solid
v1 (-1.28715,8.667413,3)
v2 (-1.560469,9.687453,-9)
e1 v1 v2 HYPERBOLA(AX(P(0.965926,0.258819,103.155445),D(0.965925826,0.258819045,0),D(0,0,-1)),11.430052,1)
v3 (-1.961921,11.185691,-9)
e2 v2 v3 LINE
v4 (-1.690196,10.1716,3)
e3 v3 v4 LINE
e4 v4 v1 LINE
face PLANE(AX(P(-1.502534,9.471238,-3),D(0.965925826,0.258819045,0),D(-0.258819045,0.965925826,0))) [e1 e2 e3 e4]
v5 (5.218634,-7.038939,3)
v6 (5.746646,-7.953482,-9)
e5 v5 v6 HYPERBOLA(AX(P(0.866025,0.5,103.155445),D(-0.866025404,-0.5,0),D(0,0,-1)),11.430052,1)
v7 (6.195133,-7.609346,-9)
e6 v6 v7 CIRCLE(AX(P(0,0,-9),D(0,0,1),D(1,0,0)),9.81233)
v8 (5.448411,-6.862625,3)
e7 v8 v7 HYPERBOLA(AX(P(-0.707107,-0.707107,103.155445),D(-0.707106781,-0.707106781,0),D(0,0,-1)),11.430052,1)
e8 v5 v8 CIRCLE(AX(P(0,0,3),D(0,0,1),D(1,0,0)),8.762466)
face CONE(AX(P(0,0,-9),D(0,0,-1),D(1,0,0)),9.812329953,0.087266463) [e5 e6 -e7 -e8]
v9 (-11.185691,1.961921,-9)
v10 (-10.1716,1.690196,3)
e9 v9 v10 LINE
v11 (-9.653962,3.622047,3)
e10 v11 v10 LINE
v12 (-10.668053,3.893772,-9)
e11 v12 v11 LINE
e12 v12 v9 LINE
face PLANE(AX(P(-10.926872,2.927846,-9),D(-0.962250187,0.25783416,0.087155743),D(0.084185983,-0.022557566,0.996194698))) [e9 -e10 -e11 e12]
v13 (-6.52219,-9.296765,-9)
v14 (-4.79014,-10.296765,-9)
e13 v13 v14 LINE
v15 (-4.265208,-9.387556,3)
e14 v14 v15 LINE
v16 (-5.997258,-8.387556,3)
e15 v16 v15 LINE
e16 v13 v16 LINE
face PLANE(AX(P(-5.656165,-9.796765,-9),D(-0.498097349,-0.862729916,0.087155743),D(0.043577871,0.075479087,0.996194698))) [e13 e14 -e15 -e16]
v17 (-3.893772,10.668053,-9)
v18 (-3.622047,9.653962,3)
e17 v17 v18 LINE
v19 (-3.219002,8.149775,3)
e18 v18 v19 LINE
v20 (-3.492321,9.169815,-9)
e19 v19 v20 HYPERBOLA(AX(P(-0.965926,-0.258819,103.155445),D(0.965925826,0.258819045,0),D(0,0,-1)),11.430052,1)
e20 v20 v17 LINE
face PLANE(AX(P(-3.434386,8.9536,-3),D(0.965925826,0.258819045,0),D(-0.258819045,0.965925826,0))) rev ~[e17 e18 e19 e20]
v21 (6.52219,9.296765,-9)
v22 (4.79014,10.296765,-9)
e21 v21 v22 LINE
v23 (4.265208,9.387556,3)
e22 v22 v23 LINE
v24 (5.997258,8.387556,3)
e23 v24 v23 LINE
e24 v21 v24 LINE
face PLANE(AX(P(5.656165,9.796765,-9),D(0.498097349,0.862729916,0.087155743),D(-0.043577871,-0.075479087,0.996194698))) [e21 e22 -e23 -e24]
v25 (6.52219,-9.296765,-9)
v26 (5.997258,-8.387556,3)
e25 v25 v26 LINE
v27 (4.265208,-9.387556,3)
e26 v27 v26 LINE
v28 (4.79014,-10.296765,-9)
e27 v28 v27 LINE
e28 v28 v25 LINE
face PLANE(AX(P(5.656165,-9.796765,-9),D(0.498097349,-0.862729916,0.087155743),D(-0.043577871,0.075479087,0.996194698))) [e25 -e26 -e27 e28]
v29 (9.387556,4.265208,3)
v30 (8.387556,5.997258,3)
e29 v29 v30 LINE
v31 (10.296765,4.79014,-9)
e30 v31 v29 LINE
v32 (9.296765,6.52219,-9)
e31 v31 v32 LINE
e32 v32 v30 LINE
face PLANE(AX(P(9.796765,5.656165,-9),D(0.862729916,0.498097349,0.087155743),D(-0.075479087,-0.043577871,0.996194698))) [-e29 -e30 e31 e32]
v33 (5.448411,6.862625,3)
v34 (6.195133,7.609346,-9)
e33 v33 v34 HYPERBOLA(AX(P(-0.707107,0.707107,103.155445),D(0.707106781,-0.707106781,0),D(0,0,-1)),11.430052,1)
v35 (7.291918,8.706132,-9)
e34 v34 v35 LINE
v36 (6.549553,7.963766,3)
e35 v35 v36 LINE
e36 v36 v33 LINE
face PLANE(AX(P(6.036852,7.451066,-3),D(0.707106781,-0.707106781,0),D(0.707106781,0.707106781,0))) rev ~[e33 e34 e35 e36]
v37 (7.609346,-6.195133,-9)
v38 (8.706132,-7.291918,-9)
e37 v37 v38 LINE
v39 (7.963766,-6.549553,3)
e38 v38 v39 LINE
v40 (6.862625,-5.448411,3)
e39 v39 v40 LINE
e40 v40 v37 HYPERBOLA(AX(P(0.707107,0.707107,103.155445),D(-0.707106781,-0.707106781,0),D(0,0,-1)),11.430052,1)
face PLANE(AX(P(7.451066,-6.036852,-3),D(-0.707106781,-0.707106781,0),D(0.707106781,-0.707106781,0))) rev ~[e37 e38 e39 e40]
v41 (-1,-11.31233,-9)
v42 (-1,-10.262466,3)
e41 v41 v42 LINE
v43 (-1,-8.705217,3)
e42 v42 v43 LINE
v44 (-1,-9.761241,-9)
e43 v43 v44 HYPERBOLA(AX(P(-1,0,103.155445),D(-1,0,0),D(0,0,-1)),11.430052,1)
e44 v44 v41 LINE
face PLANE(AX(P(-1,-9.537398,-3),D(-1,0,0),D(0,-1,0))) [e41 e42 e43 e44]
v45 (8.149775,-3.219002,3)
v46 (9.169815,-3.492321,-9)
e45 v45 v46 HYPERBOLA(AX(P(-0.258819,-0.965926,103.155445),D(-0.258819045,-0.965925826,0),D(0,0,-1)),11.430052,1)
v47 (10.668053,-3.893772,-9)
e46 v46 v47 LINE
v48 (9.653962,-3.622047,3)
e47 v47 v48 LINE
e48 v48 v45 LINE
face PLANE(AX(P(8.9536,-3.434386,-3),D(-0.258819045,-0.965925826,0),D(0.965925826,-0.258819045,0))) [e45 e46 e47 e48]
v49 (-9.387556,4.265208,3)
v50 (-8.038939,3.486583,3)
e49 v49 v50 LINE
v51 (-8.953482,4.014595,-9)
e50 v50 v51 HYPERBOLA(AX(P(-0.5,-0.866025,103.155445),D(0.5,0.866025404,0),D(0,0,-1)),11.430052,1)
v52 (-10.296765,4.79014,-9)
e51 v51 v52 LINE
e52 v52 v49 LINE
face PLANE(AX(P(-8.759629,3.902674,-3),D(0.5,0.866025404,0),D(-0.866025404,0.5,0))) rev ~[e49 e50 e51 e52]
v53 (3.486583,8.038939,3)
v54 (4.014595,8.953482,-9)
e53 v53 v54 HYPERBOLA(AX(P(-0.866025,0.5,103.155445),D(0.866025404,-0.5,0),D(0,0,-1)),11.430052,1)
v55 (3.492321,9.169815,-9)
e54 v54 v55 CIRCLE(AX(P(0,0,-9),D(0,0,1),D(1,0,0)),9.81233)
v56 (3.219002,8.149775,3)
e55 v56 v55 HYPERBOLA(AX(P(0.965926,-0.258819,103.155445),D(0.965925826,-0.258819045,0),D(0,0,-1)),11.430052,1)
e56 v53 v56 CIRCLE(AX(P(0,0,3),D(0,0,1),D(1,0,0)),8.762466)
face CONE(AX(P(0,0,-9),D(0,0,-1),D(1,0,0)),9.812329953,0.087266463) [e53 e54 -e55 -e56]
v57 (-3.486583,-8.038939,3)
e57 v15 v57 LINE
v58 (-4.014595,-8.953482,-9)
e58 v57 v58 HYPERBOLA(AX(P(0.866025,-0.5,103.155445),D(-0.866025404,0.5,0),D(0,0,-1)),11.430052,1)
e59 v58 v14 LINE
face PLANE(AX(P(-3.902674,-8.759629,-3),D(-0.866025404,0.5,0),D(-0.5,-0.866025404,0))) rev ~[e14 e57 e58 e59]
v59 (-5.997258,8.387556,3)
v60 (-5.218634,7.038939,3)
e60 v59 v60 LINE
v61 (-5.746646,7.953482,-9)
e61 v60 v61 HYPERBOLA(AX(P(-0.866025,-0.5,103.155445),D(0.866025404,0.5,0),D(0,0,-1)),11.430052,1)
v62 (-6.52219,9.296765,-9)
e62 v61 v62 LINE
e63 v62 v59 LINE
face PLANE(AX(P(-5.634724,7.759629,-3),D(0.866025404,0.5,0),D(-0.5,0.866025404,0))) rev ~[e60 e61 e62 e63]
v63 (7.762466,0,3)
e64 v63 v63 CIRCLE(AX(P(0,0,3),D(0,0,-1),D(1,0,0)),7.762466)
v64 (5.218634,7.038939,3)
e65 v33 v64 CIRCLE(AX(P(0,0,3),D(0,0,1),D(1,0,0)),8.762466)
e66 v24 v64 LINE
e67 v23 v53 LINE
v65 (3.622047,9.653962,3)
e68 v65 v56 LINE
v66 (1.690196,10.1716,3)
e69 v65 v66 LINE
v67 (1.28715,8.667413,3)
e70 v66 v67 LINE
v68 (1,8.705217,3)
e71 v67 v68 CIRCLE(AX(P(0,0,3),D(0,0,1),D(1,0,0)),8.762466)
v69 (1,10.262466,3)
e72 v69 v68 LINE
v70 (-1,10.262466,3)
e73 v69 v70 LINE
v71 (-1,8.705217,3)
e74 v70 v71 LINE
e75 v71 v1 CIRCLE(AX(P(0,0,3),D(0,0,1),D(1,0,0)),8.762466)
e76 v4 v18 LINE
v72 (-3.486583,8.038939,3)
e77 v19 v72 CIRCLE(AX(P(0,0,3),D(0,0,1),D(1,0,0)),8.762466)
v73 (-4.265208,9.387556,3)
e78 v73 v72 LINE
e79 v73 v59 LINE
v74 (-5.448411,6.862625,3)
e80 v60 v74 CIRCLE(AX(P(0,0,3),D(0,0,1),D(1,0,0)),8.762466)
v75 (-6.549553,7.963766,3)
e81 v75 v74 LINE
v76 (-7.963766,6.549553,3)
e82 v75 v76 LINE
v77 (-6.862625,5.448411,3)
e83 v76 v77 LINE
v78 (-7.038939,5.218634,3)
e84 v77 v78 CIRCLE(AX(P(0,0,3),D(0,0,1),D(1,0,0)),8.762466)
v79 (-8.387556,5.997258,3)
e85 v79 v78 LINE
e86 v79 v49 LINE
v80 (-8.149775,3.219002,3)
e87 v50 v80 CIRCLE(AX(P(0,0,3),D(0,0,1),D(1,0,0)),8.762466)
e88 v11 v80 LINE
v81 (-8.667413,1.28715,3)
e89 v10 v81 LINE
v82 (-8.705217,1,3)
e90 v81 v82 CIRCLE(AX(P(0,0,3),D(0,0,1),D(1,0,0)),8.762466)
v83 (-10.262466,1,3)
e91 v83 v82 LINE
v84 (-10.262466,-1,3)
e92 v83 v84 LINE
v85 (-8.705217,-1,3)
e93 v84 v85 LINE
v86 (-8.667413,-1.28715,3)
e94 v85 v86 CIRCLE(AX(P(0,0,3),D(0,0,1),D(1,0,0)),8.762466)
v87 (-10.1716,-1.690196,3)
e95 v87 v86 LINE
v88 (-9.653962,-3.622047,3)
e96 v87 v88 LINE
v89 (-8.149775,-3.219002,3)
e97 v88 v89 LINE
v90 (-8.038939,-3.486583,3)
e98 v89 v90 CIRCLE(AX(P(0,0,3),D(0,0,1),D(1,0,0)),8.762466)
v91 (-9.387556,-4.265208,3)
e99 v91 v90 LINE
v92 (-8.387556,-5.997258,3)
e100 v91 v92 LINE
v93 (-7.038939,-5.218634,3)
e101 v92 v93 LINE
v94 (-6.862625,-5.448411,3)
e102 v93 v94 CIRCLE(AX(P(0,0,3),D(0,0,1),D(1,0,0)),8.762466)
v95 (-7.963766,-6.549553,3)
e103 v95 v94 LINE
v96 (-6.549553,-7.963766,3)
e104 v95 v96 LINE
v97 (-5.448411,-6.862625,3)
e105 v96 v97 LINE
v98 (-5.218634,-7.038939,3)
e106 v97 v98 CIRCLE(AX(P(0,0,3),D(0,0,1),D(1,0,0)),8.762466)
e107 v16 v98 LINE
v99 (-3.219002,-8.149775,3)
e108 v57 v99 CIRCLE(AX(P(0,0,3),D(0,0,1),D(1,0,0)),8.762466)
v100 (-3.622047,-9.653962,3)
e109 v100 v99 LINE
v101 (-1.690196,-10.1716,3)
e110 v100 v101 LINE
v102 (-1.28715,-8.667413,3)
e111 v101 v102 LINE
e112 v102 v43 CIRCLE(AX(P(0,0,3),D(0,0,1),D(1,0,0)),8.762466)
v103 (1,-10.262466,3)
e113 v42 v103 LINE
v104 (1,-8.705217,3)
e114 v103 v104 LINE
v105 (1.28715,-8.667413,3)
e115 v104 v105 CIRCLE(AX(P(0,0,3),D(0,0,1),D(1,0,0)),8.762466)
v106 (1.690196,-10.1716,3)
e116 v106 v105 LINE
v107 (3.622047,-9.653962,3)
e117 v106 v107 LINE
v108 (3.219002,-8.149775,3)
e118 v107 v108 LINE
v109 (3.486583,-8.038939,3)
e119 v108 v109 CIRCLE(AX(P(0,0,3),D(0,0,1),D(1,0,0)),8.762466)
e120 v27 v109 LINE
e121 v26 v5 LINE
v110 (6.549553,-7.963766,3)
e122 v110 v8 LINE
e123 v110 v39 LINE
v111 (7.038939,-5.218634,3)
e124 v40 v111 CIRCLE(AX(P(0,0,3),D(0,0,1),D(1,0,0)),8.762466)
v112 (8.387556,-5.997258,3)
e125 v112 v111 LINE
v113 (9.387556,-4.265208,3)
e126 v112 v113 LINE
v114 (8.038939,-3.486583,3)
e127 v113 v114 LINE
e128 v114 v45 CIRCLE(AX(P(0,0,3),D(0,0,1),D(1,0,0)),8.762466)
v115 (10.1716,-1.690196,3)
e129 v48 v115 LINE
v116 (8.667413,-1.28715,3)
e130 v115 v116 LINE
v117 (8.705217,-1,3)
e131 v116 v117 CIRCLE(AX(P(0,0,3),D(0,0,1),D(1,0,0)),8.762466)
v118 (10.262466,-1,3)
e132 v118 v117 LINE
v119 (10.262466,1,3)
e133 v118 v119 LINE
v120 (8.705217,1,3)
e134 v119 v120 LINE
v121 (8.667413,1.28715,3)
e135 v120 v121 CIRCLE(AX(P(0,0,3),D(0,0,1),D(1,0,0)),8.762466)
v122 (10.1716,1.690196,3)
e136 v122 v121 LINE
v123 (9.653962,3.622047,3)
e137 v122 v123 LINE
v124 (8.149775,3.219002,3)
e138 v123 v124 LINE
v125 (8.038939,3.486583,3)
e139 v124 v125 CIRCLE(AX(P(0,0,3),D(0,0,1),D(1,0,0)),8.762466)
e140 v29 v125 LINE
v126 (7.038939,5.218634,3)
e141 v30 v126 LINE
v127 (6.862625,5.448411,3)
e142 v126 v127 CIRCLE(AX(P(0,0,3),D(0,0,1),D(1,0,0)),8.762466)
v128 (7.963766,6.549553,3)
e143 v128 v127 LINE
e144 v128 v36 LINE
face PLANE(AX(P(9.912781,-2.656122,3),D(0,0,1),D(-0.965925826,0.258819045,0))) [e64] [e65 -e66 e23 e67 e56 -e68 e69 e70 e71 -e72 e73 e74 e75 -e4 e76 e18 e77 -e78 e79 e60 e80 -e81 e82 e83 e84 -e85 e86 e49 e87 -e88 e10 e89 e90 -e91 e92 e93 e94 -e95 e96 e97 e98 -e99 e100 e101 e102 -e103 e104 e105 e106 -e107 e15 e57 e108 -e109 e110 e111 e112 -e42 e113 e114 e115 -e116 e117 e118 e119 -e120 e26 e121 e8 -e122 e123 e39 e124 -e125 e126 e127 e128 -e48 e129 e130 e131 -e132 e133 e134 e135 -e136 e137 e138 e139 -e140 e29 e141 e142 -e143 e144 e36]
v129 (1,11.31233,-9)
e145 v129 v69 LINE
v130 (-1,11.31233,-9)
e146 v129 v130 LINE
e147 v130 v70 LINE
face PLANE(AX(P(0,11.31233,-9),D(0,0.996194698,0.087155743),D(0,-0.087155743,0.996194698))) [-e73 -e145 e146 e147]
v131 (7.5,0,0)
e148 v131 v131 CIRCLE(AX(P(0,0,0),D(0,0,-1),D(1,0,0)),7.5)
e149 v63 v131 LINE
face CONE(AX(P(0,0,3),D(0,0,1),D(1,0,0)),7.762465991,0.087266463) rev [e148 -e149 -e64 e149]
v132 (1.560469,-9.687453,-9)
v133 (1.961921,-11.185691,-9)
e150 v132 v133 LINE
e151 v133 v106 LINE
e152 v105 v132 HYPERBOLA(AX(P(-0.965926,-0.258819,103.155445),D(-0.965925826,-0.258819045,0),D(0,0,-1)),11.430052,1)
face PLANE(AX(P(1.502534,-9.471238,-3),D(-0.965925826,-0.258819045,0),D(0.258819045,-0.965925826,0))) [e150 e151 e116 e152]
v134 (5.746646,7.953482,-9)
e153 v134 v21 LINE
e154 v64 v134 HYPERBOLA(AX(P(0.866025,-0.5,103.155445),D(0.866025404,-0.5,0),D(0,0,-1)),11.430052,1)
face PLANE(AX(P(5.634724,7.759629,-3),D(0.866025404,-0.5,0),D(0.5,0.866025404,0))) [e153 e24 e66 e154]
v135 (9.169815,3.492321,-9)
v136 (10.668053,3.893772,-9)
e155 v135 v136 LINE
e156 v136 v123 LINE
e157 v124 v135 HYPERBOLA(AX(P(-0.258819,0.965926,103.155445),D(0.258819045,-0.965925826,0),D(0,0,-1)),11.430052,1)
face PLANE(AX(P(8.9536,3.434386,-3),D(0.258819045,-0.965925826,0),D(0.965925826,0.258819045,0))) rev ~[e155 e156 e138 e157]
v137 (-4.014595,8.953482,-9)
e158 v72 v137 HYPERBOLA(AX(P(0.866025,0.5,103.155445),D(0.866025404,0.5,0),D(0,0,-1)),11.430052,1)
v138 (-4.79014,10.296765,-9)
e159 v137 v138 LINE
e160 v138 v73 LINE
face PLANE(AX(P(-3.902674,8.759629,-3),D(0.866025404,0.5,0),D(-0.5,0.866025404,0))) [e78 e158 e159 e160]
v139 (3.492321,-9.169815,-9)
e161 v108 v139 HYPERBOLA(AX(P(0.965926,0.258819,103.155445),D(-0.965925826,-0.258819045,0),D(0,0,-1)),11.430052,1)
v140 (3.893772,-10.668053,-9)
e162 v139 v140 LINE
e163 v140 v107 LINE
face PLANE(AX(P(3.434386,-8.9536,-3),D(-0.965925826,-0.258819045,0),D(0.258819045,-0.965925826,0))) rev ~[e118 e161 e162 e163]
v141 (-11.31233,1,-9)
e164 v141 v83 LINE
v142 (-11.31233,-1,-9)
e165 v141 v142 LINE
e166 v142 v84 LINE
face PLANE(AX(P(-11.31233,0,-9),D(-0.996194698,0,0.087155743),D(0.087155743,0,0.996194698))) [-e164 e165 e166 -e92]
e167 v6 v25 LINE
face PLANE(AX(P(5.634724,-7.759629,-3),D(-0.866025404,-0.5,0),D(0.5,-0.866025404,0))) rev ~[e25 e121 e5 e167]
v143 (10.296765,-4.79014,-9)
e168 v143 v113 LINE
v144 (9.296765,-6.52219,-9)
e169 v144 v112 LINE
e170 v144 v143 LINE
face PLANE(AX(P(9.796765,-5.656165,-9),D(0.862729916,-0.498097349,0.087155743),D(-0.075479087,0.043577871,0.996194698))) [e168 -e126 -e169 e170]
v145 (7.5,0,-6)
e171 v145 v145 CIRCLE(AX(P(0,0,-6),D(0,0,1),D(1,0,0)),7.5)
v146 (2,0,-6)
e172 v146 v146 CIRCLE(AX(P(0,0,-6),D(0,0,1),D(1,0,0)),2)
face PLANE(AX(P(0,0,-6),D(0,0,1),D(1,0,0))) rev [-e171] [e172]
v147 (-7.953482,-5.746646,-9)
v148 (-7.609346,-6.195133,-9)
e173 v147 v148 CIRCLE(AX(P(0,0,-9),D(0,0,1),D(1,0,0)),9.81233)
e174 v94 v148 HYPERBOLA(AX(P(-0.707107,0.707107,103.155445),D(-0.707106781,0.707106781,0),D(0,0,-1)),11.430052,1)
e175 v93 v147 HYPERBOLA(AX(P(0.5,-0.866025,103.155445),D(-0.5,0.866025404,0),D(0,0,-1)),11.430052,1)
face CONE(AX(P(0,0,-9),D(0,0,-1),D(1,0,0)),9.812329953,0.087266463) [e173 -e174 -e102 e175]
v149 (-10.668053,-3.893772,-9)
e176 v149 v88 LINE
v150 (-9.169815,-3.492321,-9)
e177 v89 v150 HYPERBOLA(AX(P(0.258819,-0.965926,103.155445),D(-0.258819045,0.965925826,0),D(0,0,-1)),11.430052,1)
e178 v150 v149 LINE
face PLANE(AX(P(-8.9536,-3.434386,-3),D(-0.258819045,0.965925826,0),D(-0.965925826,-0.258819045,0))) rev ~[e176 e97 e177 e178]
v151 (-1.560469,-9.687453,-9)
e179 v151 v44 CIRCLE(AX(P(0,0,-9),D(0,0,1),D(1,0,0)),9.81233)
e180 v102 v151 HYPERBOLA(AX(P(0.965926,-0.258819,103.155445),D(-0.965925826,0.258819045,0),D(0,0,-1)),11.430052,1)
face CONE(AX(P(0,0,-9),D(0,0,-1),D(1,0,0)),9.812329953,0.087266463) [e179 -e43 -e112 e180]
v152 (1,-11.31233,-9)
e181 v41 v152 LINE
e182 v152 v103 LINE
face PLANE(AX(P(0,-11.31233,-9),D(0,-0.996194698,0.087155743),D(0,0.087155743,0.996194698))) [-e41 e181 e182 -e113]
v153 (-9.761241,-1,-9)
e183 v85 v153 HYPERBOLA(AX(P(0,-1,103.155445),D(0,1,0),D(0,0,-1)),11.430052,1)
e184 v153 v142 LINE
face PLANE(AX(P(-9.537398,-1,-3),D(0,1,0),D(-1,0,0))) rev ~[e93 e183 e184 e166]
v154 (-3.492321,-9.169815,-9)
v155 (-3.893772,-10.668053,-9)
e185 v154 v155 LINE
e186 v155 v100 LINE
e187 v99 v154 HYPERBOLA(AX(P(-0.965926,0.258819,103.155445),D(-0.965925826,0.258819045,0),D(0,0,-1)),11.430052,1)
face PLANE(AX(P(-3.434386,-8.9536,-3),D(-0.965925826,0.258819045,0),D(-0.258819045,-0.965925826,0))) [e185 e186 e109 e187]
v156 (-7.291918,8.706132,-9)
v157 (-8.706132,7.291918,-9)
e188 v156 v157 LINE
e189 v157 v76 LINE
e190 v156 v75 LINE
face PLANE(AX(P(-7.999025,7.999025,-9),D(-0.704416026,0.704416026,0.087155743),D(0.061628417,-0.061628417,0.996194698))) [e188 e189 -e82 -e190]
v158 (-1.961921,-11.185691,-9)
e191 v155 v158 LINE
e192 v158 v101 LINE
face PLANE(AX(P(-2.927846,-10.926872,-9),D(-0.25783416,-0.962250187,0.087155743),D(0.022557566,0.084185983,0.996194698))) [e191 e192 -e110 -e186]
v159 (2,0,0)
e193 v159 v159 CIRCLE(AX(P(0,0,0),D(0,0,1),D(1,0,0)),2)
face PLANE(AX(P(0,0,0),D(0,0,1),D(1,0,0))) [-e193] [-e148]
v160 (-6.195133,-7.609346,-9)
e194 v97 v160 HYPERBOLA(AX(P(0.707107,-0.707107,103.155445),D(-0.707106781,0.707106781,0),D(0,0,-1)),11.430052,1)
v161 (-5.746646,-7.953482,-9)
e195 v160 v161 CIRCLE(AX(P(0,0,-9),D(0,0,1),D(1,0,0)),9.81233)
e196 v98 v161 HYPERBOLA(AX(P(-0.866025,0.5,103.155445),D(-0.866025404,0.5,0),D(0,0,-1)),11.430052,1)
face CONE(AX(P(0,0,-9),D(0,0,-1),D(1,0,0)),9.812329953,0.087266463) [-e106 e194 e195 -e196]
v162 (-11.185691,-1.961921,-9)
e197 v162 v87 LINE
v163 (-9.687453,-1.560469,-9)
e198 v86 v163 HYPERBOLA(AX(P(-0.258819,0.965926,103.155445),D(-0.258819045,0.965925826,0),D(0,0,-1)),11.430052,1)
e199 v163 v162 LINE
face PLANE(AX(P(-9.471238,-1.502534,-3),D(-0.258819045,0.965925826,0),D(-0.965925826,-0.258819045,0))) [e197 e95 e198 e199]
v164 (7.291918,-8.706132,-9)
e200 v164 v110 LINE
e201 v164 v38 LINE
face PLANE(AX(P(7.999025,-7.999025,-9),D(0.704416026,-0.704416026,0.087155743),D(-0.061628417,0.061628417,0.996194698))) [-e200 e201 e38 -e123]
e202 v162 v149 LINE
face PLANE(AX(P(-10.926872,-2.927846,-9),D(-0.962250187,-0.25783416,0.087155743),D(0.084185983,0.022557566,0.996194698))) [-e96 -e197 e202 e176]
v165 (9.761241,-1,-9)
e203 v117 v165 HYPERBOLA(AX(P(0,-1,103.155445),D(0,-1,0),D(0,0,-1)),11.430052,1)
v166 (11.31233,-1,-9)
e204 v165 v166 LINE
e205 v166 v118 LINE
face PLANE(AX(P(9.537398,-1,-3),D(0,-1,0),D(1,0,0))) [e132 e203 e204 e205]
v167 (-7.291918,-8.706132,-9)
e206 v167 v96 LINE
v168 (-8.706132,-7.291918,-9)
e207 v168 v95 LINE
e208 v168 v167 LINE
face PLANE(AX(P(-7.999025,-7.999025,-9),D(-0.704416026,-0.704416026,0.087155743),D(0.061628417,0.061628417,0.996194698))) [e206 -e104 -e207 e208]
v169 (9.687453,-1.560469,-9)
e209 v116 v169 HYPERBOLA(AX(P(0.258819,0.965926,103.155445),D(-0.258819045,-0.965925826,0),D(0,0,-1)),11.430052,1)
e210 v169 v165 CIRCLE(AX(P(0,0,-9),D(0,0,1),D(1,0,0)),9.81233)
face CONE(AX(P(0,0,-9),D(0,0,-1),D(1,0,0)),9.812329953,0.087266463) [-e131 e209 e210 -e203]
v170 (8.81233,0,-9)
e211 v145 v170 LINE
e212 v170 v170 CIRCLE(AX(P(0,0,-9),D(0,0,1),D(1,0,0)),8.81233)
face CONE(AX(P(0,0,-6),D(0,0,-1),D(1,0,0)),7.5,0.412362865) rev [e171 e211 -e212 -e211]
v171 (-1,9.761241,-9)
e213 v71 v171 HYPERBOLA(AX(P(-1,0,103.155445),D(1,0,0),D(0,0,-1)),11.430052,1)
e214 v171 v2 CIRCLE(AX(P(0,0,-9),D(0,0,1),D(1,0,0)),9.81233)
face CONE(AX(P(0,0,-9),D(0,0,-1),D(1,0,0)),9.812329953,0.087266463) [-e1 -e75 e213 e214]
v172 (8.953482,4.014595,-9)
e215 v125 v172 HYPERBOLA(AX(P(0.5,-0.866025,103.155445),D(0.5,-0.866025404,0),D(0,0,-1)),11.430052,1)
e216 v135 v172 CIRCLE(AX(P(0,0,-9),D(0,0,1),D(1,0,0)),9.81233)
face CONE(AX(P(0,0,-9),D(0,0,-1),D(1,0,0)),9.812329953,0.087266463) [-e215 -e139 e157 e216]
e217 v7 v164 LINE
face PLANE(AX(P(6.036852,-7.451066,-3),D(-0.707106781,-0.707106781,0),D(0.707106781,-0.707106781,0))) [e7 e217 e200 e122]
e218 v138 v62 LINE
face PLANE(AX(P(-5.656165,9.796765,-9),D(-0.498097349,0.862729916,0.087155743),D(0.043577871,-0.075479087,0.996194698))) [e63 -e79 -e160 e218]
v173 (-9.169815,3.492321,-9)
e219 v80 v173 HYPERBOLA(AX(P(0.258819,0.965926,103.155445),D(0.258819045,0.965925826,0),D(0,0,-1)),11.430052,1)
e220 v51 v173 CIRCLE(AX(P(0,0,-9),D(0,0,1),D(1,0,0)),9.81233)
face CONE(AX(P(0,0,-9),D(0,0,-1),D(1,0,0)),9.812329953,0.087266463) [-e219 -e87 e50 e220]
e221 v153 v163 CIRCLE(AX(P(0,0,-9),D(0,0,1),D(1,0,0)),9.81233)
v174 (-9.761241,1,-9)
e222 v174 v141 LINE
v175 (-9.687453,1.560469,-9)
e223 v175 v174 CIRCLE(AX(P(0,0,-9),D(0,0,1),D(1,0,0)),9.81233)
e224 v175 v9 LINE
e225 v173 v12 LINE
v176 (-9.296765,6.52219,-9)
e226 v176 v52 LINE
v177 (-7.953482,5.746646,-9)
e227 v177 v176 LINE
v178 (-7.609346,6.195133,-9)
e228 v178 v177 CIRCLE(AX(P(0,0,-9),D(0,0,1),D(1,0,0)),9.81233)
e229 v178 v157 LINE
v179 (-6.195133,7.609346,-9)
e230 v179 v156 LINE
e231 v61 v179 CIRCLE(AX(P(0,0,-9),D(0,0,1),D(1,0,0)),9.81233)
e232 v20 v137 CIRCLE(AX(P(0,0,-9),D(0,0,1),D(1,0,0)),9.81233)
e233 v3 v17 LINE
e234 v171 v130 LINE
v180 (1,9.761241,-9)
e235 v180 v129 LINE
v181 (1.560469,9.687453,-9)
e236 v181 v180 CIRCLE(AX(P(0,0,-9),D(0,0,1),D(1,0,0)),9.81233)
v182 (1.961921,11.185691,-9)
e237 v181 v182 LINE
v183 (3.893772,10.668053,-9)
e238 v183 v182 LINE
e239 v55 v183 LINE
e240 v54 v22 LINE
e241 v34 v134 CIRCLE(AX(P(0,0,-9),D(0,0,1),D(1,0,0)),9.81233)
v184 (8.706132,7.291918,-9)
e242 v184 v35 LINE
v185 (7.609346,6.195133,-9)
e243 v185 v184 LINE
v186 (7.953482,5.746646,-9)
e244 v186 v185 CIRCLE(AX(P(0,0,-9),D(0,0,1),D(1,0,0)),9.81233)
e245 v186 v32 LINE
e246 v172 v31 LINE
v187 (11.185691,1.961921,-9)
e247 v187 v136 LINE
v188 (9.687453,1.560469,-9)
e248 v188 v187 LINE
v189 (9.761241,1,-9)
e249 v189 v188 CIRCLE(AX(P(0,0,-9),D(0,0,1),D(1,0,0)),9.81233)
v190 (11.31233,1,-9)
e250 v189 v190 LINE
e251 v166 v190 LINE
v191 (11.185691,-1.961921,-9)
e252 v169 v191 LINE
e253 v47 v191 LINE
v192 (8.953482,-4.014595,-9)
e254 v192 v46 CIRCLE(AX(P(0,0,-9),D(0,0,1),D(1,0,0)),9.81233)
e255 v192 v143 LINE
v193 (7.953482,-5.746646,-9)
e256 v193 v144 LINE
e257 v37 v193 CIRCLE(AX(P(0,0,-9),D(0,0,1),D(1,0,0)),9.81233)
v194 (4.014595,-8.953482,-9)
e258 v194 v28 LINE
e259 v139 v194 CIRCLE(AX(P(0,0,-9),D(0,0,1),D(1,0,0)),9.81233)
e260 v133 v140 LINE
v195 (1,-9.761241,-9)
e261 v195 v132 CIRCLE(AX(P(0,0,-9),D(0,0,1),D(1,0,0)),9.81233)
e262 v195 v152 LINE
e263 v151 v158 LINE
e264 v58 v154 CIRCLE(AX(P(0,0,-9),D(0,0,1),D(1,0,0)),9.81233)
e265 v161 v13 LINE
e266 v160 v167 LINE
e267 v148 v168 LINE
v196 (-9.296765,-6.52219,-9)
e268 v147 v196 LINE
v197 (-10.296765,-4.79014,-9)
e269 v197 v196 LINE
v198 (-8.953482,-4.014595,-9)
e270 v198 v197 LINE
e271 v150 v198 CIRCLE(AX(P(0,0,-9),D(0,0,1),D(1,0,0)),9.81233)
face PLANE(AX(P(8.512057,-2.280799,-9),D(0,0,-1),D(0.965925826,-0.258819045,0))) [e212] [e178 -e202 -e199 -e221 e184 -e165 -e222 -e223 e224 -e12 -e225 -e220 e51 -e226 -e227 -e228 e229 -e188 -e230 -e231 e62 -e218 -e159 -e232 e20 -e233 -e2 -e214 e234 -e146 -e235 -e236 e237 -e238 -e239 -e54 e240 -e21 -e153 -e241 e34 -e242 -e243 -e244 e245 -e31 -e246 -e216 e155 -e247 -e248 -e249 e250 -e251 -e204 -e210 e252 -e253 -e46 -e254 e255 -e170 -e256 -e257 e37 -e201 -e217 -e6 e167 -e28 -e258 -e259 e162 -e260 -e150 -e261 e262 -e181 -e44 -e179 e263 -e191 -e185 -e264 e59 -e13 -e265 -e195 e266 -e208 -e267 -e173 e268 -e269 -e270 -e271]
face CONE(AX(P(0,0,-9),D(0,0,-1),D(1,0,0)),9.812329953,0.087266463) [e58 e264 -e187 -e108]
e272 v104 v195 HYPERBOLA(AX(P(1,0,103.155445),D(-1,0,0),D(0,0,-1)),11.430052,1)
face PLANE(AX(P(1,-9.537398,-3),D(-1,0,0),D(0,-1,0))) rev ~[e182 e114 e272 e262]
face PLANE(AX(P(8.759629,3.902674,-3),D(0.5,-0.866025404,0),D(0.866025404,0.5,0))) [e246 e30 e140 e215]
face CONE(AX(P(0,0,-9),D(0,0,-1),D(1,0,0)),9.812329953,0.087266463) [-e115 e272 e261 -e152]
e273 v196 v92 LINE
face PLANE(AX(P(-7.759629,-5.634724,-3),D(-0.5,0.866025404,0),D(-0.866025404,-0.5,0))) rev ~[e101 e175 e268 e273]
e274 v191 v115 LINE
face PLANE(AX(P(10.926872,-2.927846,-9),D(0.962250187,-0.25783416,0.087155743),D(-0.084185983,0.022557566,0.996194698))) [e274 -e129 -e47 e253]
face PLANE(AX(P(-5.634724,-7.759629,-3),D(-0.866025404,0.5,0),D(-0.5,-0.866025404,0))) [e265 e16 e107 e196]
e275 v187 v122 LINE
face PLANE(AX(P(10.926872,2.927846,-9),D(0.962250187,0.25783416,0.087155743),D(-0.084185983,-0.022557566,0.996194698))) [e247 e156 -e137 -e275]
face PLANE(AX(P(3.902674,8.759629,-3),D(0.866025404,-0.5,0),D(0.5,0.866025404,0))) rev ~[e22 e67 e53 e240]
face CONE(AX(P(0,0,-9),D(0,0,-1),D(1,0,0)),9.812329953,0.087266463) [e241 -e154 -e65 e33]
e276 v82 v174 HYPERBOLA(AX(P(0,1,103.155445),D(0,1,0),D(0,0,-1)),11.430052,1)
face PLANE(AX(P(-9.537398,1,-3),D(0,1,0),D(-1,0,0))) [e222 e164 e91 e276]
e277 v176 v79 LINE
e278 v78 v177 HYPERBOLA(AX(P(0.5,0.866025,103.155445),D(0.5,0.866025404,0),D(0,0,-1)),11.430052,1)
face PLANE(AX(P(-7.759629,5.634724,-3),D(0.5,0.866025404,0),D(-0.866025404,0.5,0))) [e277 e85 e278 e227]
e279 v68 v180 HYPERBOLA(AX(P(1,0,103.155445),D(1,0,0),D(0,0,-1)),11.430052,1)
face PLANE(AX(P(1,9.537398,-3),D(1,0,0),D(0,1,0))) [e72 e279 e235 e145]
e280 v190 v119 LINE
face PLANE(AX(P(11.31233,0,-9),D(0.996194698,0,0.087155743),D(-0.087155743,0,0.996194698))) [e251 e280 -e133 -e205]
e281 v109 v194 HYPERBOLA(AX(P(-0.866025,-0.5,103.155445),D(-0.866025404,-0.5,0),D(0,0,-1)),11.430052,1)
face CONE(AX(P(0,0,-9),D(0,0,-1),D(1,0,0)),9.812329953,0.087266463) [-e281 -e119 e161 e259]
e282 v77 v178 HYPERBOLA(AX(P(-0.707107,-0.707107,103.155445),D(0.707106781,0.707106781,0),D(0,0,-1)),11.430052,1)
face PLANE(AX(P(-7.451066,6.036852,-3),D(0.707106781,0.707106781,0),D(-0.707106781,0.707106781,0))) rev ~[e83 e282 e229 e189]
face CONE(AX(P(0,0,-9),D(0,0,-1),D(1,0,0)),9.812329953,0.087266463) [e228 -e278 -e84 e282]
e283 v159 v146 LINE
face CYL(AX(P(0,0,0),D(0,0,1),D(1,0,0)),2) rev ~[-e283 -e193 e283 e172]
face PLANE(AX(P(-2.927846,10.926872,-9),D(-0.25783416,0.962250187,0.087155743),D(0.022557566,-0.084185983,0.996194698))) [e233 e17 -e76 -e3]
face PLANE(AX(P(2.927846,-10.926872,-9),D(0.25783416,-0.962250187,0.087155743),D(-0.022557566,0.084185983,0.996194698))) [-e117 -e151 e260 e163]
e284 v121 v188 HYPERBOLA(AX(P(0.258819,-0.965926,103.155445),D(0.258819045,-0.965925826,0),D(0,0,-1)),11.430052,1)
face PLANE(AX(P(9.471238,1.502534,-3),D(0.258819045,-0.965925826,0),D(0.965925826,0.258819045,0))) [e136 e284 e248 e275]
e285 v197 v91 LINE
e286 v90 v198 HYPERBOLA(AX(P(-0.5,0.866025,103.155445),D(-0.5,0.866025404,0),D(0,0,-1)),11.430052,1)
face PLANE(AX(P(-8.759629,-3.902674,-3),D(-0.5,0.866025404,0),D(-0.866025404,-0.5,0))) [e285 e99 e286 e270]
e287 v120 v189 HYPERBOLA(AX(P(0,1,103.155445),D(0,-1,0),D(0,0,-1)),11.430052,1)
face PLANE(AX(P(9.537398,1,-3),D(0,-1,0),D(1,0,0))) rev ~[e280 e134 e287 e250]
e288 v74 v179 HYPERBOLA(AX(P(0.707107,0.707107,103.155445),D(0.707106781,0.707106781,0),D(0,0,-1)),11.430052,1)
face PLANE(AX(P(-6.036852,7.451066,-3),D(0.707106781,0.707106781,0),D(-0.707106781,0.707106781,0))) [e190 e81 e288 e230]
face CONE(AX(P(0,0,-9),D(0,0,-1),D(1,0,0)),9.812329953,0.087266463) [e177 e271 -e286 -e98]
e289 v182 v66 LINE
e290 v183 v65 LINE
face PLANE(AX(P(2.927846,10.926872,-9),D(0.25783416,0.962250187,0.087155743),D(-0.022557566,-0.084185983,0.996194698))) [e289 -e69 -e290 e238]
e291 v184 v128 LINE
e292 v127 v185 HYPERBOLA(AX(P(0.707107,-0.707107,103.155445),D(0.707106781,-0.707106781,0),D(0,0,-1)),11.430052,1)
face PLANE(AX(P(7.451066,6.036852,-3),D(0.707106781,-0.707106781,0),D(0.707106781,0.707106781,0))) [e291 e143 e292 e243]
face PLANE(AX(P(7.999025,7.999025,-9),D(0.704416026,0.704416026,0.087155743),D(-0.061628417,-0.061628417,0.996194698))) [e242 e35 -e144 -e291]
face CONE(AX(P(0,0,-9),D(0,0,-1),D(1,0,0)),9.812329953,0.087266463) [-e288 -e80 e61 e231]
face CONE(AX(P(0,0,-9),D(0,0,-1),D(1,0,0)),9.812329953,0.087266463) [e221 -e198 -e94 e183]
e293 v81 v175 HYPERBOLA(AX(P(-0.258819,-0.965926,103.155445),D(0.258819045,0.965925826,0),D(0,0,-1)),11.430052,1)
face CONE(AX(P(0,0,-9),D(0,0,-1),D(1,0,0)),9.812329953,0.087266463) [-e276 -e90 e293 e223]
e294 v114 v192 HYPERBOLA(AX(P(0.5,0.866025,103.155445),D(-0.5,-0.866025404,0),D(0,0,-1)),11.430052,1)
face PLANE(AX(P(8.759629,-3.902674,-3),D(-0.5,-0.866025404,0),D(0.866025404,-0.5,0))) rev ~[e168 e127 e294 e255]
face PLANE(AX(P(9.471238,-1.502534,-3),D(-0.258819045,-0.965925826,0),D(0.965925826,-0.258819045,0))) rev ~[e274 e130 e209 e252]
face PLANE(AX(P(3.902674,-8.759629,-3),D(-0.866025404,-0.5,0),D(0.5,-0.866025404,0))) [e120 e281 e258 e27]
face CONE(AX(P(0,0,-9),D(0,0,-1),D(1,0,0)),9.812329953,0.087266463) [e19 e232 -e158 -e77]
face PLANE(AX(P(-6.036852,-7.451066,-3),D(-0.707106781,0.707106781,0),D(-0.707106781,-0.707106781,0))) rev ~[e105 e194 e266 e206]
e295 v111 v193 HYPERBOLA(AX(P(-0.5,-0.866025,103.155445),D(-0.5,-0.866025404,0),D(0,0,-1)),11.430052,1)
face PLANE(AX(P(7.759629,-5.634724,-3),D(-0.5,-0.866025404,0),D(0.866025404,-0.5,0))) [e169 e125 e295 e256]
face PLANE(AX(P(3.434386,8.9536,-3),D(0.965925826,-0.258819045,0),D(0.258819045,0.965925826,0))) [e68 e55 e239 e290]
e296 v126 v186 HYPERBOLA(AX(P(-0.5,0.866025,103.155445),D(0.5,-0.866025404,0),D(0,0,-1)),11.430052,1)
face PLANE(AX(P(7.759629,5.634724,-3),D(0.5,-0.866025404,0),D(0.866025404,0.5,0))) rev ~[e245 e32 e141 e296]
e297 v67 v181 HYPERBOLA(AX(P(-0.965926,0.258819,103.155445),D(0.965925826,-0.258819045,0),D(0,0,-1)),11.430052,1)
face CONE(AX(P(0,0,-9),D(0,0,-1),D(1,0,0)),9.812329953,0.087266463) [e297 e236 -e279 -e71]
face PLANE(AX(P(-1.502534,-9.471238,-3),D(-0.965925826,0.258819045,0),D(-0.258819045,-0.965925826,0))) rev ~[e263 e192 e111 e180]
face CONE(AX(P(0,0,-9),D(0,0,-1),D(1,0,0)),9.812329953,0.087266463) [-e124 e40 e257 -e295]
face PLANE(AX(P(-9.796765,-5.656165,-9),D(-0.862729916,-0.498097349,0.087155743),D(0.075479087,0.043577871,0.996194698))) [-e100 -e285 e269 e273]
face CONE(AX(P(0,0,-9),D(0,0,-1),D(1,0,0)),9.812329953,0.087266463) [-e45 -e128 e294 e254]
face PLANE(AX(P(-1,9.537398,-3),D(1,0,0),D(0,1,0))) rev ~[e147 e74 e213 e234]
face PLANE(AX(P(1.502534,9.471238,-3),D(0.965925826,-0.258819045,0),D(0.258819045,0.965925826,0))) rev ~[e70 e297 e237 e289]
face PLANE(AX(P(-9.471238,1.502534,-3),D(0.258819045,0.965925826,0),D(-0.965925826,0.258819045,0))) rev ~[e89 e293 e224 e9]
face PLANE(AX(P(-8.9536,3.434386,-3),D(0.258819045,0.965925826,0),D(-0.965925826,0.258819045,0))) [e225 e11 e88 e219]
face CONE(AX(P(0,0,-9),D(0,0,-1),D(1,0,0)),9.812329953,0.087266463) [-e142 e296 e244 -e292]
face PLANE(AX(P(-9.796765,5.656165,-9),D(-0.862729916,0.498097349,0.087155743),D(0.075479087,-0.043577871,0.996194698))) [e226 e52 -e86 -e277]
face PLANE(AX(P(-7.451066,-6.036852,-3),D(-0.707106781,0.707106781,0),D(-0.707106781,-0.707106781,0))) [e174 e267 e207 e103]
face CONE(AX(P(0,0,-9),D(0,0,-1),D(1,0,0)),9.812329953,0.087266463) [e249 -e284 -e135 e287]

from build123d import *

# Parameters (mm, degrees)
F3_DEPTH      = 1
F3_DEPTH_BACK = 1
F4_COUNT      = 24
F4_ANGLE      = 345
F5_R          = 2
F6_DEPTH      = 25


with BuildPart() as f1:
    # F0 (on Front) → F1 (revolve)
    with BuildSketch(Plane.XZ):
        Polygon((7.5, 0), (0, 0), (0, -6), (7.5, -6), (8.8123299529, -9), (9.8123299529, -9), (8.7624659906, 3), (7.7624659906, 3), align=None)
    revolve(axis=Axis((0, 0, -3), (0, 0, 1)))

    # F2 (on Front) → F3 (join, two sides)
    with BuildSketch(Plane.XZ) as f3_sk:
        Polygon((10.2624659906, 3), (8.7624659906, 3), (7.7624659906, 3), (8.8123299529, -9), (9.8123299529, -9), (11.3123299529, -9), align=None)
    extrude(amount=F3_DEPTH)
    extrude(f3_sk.sketch, amount=-F3_DEPTH_BACK)

    # F4: F1 ×24 about axis
    f4_axis = Axis((0, 0, 3), (0, 0, 1))


with BuildPart() as f1_1:
    add(f1.part)
    for i in range(1, F4_COUNT):
        add(f1.part.rotate(f4_axis, i * F4_ANGLE / (F4_COUNT - 1)))

    # F5 (on face) → F6 (cut)
    with BuildSketch(Plane.XY):
        Circle(F5_R)
    extrude(amount=-F6_DEPTH, mode=Mode.SUBTRACT)


solid = f1_1.part
